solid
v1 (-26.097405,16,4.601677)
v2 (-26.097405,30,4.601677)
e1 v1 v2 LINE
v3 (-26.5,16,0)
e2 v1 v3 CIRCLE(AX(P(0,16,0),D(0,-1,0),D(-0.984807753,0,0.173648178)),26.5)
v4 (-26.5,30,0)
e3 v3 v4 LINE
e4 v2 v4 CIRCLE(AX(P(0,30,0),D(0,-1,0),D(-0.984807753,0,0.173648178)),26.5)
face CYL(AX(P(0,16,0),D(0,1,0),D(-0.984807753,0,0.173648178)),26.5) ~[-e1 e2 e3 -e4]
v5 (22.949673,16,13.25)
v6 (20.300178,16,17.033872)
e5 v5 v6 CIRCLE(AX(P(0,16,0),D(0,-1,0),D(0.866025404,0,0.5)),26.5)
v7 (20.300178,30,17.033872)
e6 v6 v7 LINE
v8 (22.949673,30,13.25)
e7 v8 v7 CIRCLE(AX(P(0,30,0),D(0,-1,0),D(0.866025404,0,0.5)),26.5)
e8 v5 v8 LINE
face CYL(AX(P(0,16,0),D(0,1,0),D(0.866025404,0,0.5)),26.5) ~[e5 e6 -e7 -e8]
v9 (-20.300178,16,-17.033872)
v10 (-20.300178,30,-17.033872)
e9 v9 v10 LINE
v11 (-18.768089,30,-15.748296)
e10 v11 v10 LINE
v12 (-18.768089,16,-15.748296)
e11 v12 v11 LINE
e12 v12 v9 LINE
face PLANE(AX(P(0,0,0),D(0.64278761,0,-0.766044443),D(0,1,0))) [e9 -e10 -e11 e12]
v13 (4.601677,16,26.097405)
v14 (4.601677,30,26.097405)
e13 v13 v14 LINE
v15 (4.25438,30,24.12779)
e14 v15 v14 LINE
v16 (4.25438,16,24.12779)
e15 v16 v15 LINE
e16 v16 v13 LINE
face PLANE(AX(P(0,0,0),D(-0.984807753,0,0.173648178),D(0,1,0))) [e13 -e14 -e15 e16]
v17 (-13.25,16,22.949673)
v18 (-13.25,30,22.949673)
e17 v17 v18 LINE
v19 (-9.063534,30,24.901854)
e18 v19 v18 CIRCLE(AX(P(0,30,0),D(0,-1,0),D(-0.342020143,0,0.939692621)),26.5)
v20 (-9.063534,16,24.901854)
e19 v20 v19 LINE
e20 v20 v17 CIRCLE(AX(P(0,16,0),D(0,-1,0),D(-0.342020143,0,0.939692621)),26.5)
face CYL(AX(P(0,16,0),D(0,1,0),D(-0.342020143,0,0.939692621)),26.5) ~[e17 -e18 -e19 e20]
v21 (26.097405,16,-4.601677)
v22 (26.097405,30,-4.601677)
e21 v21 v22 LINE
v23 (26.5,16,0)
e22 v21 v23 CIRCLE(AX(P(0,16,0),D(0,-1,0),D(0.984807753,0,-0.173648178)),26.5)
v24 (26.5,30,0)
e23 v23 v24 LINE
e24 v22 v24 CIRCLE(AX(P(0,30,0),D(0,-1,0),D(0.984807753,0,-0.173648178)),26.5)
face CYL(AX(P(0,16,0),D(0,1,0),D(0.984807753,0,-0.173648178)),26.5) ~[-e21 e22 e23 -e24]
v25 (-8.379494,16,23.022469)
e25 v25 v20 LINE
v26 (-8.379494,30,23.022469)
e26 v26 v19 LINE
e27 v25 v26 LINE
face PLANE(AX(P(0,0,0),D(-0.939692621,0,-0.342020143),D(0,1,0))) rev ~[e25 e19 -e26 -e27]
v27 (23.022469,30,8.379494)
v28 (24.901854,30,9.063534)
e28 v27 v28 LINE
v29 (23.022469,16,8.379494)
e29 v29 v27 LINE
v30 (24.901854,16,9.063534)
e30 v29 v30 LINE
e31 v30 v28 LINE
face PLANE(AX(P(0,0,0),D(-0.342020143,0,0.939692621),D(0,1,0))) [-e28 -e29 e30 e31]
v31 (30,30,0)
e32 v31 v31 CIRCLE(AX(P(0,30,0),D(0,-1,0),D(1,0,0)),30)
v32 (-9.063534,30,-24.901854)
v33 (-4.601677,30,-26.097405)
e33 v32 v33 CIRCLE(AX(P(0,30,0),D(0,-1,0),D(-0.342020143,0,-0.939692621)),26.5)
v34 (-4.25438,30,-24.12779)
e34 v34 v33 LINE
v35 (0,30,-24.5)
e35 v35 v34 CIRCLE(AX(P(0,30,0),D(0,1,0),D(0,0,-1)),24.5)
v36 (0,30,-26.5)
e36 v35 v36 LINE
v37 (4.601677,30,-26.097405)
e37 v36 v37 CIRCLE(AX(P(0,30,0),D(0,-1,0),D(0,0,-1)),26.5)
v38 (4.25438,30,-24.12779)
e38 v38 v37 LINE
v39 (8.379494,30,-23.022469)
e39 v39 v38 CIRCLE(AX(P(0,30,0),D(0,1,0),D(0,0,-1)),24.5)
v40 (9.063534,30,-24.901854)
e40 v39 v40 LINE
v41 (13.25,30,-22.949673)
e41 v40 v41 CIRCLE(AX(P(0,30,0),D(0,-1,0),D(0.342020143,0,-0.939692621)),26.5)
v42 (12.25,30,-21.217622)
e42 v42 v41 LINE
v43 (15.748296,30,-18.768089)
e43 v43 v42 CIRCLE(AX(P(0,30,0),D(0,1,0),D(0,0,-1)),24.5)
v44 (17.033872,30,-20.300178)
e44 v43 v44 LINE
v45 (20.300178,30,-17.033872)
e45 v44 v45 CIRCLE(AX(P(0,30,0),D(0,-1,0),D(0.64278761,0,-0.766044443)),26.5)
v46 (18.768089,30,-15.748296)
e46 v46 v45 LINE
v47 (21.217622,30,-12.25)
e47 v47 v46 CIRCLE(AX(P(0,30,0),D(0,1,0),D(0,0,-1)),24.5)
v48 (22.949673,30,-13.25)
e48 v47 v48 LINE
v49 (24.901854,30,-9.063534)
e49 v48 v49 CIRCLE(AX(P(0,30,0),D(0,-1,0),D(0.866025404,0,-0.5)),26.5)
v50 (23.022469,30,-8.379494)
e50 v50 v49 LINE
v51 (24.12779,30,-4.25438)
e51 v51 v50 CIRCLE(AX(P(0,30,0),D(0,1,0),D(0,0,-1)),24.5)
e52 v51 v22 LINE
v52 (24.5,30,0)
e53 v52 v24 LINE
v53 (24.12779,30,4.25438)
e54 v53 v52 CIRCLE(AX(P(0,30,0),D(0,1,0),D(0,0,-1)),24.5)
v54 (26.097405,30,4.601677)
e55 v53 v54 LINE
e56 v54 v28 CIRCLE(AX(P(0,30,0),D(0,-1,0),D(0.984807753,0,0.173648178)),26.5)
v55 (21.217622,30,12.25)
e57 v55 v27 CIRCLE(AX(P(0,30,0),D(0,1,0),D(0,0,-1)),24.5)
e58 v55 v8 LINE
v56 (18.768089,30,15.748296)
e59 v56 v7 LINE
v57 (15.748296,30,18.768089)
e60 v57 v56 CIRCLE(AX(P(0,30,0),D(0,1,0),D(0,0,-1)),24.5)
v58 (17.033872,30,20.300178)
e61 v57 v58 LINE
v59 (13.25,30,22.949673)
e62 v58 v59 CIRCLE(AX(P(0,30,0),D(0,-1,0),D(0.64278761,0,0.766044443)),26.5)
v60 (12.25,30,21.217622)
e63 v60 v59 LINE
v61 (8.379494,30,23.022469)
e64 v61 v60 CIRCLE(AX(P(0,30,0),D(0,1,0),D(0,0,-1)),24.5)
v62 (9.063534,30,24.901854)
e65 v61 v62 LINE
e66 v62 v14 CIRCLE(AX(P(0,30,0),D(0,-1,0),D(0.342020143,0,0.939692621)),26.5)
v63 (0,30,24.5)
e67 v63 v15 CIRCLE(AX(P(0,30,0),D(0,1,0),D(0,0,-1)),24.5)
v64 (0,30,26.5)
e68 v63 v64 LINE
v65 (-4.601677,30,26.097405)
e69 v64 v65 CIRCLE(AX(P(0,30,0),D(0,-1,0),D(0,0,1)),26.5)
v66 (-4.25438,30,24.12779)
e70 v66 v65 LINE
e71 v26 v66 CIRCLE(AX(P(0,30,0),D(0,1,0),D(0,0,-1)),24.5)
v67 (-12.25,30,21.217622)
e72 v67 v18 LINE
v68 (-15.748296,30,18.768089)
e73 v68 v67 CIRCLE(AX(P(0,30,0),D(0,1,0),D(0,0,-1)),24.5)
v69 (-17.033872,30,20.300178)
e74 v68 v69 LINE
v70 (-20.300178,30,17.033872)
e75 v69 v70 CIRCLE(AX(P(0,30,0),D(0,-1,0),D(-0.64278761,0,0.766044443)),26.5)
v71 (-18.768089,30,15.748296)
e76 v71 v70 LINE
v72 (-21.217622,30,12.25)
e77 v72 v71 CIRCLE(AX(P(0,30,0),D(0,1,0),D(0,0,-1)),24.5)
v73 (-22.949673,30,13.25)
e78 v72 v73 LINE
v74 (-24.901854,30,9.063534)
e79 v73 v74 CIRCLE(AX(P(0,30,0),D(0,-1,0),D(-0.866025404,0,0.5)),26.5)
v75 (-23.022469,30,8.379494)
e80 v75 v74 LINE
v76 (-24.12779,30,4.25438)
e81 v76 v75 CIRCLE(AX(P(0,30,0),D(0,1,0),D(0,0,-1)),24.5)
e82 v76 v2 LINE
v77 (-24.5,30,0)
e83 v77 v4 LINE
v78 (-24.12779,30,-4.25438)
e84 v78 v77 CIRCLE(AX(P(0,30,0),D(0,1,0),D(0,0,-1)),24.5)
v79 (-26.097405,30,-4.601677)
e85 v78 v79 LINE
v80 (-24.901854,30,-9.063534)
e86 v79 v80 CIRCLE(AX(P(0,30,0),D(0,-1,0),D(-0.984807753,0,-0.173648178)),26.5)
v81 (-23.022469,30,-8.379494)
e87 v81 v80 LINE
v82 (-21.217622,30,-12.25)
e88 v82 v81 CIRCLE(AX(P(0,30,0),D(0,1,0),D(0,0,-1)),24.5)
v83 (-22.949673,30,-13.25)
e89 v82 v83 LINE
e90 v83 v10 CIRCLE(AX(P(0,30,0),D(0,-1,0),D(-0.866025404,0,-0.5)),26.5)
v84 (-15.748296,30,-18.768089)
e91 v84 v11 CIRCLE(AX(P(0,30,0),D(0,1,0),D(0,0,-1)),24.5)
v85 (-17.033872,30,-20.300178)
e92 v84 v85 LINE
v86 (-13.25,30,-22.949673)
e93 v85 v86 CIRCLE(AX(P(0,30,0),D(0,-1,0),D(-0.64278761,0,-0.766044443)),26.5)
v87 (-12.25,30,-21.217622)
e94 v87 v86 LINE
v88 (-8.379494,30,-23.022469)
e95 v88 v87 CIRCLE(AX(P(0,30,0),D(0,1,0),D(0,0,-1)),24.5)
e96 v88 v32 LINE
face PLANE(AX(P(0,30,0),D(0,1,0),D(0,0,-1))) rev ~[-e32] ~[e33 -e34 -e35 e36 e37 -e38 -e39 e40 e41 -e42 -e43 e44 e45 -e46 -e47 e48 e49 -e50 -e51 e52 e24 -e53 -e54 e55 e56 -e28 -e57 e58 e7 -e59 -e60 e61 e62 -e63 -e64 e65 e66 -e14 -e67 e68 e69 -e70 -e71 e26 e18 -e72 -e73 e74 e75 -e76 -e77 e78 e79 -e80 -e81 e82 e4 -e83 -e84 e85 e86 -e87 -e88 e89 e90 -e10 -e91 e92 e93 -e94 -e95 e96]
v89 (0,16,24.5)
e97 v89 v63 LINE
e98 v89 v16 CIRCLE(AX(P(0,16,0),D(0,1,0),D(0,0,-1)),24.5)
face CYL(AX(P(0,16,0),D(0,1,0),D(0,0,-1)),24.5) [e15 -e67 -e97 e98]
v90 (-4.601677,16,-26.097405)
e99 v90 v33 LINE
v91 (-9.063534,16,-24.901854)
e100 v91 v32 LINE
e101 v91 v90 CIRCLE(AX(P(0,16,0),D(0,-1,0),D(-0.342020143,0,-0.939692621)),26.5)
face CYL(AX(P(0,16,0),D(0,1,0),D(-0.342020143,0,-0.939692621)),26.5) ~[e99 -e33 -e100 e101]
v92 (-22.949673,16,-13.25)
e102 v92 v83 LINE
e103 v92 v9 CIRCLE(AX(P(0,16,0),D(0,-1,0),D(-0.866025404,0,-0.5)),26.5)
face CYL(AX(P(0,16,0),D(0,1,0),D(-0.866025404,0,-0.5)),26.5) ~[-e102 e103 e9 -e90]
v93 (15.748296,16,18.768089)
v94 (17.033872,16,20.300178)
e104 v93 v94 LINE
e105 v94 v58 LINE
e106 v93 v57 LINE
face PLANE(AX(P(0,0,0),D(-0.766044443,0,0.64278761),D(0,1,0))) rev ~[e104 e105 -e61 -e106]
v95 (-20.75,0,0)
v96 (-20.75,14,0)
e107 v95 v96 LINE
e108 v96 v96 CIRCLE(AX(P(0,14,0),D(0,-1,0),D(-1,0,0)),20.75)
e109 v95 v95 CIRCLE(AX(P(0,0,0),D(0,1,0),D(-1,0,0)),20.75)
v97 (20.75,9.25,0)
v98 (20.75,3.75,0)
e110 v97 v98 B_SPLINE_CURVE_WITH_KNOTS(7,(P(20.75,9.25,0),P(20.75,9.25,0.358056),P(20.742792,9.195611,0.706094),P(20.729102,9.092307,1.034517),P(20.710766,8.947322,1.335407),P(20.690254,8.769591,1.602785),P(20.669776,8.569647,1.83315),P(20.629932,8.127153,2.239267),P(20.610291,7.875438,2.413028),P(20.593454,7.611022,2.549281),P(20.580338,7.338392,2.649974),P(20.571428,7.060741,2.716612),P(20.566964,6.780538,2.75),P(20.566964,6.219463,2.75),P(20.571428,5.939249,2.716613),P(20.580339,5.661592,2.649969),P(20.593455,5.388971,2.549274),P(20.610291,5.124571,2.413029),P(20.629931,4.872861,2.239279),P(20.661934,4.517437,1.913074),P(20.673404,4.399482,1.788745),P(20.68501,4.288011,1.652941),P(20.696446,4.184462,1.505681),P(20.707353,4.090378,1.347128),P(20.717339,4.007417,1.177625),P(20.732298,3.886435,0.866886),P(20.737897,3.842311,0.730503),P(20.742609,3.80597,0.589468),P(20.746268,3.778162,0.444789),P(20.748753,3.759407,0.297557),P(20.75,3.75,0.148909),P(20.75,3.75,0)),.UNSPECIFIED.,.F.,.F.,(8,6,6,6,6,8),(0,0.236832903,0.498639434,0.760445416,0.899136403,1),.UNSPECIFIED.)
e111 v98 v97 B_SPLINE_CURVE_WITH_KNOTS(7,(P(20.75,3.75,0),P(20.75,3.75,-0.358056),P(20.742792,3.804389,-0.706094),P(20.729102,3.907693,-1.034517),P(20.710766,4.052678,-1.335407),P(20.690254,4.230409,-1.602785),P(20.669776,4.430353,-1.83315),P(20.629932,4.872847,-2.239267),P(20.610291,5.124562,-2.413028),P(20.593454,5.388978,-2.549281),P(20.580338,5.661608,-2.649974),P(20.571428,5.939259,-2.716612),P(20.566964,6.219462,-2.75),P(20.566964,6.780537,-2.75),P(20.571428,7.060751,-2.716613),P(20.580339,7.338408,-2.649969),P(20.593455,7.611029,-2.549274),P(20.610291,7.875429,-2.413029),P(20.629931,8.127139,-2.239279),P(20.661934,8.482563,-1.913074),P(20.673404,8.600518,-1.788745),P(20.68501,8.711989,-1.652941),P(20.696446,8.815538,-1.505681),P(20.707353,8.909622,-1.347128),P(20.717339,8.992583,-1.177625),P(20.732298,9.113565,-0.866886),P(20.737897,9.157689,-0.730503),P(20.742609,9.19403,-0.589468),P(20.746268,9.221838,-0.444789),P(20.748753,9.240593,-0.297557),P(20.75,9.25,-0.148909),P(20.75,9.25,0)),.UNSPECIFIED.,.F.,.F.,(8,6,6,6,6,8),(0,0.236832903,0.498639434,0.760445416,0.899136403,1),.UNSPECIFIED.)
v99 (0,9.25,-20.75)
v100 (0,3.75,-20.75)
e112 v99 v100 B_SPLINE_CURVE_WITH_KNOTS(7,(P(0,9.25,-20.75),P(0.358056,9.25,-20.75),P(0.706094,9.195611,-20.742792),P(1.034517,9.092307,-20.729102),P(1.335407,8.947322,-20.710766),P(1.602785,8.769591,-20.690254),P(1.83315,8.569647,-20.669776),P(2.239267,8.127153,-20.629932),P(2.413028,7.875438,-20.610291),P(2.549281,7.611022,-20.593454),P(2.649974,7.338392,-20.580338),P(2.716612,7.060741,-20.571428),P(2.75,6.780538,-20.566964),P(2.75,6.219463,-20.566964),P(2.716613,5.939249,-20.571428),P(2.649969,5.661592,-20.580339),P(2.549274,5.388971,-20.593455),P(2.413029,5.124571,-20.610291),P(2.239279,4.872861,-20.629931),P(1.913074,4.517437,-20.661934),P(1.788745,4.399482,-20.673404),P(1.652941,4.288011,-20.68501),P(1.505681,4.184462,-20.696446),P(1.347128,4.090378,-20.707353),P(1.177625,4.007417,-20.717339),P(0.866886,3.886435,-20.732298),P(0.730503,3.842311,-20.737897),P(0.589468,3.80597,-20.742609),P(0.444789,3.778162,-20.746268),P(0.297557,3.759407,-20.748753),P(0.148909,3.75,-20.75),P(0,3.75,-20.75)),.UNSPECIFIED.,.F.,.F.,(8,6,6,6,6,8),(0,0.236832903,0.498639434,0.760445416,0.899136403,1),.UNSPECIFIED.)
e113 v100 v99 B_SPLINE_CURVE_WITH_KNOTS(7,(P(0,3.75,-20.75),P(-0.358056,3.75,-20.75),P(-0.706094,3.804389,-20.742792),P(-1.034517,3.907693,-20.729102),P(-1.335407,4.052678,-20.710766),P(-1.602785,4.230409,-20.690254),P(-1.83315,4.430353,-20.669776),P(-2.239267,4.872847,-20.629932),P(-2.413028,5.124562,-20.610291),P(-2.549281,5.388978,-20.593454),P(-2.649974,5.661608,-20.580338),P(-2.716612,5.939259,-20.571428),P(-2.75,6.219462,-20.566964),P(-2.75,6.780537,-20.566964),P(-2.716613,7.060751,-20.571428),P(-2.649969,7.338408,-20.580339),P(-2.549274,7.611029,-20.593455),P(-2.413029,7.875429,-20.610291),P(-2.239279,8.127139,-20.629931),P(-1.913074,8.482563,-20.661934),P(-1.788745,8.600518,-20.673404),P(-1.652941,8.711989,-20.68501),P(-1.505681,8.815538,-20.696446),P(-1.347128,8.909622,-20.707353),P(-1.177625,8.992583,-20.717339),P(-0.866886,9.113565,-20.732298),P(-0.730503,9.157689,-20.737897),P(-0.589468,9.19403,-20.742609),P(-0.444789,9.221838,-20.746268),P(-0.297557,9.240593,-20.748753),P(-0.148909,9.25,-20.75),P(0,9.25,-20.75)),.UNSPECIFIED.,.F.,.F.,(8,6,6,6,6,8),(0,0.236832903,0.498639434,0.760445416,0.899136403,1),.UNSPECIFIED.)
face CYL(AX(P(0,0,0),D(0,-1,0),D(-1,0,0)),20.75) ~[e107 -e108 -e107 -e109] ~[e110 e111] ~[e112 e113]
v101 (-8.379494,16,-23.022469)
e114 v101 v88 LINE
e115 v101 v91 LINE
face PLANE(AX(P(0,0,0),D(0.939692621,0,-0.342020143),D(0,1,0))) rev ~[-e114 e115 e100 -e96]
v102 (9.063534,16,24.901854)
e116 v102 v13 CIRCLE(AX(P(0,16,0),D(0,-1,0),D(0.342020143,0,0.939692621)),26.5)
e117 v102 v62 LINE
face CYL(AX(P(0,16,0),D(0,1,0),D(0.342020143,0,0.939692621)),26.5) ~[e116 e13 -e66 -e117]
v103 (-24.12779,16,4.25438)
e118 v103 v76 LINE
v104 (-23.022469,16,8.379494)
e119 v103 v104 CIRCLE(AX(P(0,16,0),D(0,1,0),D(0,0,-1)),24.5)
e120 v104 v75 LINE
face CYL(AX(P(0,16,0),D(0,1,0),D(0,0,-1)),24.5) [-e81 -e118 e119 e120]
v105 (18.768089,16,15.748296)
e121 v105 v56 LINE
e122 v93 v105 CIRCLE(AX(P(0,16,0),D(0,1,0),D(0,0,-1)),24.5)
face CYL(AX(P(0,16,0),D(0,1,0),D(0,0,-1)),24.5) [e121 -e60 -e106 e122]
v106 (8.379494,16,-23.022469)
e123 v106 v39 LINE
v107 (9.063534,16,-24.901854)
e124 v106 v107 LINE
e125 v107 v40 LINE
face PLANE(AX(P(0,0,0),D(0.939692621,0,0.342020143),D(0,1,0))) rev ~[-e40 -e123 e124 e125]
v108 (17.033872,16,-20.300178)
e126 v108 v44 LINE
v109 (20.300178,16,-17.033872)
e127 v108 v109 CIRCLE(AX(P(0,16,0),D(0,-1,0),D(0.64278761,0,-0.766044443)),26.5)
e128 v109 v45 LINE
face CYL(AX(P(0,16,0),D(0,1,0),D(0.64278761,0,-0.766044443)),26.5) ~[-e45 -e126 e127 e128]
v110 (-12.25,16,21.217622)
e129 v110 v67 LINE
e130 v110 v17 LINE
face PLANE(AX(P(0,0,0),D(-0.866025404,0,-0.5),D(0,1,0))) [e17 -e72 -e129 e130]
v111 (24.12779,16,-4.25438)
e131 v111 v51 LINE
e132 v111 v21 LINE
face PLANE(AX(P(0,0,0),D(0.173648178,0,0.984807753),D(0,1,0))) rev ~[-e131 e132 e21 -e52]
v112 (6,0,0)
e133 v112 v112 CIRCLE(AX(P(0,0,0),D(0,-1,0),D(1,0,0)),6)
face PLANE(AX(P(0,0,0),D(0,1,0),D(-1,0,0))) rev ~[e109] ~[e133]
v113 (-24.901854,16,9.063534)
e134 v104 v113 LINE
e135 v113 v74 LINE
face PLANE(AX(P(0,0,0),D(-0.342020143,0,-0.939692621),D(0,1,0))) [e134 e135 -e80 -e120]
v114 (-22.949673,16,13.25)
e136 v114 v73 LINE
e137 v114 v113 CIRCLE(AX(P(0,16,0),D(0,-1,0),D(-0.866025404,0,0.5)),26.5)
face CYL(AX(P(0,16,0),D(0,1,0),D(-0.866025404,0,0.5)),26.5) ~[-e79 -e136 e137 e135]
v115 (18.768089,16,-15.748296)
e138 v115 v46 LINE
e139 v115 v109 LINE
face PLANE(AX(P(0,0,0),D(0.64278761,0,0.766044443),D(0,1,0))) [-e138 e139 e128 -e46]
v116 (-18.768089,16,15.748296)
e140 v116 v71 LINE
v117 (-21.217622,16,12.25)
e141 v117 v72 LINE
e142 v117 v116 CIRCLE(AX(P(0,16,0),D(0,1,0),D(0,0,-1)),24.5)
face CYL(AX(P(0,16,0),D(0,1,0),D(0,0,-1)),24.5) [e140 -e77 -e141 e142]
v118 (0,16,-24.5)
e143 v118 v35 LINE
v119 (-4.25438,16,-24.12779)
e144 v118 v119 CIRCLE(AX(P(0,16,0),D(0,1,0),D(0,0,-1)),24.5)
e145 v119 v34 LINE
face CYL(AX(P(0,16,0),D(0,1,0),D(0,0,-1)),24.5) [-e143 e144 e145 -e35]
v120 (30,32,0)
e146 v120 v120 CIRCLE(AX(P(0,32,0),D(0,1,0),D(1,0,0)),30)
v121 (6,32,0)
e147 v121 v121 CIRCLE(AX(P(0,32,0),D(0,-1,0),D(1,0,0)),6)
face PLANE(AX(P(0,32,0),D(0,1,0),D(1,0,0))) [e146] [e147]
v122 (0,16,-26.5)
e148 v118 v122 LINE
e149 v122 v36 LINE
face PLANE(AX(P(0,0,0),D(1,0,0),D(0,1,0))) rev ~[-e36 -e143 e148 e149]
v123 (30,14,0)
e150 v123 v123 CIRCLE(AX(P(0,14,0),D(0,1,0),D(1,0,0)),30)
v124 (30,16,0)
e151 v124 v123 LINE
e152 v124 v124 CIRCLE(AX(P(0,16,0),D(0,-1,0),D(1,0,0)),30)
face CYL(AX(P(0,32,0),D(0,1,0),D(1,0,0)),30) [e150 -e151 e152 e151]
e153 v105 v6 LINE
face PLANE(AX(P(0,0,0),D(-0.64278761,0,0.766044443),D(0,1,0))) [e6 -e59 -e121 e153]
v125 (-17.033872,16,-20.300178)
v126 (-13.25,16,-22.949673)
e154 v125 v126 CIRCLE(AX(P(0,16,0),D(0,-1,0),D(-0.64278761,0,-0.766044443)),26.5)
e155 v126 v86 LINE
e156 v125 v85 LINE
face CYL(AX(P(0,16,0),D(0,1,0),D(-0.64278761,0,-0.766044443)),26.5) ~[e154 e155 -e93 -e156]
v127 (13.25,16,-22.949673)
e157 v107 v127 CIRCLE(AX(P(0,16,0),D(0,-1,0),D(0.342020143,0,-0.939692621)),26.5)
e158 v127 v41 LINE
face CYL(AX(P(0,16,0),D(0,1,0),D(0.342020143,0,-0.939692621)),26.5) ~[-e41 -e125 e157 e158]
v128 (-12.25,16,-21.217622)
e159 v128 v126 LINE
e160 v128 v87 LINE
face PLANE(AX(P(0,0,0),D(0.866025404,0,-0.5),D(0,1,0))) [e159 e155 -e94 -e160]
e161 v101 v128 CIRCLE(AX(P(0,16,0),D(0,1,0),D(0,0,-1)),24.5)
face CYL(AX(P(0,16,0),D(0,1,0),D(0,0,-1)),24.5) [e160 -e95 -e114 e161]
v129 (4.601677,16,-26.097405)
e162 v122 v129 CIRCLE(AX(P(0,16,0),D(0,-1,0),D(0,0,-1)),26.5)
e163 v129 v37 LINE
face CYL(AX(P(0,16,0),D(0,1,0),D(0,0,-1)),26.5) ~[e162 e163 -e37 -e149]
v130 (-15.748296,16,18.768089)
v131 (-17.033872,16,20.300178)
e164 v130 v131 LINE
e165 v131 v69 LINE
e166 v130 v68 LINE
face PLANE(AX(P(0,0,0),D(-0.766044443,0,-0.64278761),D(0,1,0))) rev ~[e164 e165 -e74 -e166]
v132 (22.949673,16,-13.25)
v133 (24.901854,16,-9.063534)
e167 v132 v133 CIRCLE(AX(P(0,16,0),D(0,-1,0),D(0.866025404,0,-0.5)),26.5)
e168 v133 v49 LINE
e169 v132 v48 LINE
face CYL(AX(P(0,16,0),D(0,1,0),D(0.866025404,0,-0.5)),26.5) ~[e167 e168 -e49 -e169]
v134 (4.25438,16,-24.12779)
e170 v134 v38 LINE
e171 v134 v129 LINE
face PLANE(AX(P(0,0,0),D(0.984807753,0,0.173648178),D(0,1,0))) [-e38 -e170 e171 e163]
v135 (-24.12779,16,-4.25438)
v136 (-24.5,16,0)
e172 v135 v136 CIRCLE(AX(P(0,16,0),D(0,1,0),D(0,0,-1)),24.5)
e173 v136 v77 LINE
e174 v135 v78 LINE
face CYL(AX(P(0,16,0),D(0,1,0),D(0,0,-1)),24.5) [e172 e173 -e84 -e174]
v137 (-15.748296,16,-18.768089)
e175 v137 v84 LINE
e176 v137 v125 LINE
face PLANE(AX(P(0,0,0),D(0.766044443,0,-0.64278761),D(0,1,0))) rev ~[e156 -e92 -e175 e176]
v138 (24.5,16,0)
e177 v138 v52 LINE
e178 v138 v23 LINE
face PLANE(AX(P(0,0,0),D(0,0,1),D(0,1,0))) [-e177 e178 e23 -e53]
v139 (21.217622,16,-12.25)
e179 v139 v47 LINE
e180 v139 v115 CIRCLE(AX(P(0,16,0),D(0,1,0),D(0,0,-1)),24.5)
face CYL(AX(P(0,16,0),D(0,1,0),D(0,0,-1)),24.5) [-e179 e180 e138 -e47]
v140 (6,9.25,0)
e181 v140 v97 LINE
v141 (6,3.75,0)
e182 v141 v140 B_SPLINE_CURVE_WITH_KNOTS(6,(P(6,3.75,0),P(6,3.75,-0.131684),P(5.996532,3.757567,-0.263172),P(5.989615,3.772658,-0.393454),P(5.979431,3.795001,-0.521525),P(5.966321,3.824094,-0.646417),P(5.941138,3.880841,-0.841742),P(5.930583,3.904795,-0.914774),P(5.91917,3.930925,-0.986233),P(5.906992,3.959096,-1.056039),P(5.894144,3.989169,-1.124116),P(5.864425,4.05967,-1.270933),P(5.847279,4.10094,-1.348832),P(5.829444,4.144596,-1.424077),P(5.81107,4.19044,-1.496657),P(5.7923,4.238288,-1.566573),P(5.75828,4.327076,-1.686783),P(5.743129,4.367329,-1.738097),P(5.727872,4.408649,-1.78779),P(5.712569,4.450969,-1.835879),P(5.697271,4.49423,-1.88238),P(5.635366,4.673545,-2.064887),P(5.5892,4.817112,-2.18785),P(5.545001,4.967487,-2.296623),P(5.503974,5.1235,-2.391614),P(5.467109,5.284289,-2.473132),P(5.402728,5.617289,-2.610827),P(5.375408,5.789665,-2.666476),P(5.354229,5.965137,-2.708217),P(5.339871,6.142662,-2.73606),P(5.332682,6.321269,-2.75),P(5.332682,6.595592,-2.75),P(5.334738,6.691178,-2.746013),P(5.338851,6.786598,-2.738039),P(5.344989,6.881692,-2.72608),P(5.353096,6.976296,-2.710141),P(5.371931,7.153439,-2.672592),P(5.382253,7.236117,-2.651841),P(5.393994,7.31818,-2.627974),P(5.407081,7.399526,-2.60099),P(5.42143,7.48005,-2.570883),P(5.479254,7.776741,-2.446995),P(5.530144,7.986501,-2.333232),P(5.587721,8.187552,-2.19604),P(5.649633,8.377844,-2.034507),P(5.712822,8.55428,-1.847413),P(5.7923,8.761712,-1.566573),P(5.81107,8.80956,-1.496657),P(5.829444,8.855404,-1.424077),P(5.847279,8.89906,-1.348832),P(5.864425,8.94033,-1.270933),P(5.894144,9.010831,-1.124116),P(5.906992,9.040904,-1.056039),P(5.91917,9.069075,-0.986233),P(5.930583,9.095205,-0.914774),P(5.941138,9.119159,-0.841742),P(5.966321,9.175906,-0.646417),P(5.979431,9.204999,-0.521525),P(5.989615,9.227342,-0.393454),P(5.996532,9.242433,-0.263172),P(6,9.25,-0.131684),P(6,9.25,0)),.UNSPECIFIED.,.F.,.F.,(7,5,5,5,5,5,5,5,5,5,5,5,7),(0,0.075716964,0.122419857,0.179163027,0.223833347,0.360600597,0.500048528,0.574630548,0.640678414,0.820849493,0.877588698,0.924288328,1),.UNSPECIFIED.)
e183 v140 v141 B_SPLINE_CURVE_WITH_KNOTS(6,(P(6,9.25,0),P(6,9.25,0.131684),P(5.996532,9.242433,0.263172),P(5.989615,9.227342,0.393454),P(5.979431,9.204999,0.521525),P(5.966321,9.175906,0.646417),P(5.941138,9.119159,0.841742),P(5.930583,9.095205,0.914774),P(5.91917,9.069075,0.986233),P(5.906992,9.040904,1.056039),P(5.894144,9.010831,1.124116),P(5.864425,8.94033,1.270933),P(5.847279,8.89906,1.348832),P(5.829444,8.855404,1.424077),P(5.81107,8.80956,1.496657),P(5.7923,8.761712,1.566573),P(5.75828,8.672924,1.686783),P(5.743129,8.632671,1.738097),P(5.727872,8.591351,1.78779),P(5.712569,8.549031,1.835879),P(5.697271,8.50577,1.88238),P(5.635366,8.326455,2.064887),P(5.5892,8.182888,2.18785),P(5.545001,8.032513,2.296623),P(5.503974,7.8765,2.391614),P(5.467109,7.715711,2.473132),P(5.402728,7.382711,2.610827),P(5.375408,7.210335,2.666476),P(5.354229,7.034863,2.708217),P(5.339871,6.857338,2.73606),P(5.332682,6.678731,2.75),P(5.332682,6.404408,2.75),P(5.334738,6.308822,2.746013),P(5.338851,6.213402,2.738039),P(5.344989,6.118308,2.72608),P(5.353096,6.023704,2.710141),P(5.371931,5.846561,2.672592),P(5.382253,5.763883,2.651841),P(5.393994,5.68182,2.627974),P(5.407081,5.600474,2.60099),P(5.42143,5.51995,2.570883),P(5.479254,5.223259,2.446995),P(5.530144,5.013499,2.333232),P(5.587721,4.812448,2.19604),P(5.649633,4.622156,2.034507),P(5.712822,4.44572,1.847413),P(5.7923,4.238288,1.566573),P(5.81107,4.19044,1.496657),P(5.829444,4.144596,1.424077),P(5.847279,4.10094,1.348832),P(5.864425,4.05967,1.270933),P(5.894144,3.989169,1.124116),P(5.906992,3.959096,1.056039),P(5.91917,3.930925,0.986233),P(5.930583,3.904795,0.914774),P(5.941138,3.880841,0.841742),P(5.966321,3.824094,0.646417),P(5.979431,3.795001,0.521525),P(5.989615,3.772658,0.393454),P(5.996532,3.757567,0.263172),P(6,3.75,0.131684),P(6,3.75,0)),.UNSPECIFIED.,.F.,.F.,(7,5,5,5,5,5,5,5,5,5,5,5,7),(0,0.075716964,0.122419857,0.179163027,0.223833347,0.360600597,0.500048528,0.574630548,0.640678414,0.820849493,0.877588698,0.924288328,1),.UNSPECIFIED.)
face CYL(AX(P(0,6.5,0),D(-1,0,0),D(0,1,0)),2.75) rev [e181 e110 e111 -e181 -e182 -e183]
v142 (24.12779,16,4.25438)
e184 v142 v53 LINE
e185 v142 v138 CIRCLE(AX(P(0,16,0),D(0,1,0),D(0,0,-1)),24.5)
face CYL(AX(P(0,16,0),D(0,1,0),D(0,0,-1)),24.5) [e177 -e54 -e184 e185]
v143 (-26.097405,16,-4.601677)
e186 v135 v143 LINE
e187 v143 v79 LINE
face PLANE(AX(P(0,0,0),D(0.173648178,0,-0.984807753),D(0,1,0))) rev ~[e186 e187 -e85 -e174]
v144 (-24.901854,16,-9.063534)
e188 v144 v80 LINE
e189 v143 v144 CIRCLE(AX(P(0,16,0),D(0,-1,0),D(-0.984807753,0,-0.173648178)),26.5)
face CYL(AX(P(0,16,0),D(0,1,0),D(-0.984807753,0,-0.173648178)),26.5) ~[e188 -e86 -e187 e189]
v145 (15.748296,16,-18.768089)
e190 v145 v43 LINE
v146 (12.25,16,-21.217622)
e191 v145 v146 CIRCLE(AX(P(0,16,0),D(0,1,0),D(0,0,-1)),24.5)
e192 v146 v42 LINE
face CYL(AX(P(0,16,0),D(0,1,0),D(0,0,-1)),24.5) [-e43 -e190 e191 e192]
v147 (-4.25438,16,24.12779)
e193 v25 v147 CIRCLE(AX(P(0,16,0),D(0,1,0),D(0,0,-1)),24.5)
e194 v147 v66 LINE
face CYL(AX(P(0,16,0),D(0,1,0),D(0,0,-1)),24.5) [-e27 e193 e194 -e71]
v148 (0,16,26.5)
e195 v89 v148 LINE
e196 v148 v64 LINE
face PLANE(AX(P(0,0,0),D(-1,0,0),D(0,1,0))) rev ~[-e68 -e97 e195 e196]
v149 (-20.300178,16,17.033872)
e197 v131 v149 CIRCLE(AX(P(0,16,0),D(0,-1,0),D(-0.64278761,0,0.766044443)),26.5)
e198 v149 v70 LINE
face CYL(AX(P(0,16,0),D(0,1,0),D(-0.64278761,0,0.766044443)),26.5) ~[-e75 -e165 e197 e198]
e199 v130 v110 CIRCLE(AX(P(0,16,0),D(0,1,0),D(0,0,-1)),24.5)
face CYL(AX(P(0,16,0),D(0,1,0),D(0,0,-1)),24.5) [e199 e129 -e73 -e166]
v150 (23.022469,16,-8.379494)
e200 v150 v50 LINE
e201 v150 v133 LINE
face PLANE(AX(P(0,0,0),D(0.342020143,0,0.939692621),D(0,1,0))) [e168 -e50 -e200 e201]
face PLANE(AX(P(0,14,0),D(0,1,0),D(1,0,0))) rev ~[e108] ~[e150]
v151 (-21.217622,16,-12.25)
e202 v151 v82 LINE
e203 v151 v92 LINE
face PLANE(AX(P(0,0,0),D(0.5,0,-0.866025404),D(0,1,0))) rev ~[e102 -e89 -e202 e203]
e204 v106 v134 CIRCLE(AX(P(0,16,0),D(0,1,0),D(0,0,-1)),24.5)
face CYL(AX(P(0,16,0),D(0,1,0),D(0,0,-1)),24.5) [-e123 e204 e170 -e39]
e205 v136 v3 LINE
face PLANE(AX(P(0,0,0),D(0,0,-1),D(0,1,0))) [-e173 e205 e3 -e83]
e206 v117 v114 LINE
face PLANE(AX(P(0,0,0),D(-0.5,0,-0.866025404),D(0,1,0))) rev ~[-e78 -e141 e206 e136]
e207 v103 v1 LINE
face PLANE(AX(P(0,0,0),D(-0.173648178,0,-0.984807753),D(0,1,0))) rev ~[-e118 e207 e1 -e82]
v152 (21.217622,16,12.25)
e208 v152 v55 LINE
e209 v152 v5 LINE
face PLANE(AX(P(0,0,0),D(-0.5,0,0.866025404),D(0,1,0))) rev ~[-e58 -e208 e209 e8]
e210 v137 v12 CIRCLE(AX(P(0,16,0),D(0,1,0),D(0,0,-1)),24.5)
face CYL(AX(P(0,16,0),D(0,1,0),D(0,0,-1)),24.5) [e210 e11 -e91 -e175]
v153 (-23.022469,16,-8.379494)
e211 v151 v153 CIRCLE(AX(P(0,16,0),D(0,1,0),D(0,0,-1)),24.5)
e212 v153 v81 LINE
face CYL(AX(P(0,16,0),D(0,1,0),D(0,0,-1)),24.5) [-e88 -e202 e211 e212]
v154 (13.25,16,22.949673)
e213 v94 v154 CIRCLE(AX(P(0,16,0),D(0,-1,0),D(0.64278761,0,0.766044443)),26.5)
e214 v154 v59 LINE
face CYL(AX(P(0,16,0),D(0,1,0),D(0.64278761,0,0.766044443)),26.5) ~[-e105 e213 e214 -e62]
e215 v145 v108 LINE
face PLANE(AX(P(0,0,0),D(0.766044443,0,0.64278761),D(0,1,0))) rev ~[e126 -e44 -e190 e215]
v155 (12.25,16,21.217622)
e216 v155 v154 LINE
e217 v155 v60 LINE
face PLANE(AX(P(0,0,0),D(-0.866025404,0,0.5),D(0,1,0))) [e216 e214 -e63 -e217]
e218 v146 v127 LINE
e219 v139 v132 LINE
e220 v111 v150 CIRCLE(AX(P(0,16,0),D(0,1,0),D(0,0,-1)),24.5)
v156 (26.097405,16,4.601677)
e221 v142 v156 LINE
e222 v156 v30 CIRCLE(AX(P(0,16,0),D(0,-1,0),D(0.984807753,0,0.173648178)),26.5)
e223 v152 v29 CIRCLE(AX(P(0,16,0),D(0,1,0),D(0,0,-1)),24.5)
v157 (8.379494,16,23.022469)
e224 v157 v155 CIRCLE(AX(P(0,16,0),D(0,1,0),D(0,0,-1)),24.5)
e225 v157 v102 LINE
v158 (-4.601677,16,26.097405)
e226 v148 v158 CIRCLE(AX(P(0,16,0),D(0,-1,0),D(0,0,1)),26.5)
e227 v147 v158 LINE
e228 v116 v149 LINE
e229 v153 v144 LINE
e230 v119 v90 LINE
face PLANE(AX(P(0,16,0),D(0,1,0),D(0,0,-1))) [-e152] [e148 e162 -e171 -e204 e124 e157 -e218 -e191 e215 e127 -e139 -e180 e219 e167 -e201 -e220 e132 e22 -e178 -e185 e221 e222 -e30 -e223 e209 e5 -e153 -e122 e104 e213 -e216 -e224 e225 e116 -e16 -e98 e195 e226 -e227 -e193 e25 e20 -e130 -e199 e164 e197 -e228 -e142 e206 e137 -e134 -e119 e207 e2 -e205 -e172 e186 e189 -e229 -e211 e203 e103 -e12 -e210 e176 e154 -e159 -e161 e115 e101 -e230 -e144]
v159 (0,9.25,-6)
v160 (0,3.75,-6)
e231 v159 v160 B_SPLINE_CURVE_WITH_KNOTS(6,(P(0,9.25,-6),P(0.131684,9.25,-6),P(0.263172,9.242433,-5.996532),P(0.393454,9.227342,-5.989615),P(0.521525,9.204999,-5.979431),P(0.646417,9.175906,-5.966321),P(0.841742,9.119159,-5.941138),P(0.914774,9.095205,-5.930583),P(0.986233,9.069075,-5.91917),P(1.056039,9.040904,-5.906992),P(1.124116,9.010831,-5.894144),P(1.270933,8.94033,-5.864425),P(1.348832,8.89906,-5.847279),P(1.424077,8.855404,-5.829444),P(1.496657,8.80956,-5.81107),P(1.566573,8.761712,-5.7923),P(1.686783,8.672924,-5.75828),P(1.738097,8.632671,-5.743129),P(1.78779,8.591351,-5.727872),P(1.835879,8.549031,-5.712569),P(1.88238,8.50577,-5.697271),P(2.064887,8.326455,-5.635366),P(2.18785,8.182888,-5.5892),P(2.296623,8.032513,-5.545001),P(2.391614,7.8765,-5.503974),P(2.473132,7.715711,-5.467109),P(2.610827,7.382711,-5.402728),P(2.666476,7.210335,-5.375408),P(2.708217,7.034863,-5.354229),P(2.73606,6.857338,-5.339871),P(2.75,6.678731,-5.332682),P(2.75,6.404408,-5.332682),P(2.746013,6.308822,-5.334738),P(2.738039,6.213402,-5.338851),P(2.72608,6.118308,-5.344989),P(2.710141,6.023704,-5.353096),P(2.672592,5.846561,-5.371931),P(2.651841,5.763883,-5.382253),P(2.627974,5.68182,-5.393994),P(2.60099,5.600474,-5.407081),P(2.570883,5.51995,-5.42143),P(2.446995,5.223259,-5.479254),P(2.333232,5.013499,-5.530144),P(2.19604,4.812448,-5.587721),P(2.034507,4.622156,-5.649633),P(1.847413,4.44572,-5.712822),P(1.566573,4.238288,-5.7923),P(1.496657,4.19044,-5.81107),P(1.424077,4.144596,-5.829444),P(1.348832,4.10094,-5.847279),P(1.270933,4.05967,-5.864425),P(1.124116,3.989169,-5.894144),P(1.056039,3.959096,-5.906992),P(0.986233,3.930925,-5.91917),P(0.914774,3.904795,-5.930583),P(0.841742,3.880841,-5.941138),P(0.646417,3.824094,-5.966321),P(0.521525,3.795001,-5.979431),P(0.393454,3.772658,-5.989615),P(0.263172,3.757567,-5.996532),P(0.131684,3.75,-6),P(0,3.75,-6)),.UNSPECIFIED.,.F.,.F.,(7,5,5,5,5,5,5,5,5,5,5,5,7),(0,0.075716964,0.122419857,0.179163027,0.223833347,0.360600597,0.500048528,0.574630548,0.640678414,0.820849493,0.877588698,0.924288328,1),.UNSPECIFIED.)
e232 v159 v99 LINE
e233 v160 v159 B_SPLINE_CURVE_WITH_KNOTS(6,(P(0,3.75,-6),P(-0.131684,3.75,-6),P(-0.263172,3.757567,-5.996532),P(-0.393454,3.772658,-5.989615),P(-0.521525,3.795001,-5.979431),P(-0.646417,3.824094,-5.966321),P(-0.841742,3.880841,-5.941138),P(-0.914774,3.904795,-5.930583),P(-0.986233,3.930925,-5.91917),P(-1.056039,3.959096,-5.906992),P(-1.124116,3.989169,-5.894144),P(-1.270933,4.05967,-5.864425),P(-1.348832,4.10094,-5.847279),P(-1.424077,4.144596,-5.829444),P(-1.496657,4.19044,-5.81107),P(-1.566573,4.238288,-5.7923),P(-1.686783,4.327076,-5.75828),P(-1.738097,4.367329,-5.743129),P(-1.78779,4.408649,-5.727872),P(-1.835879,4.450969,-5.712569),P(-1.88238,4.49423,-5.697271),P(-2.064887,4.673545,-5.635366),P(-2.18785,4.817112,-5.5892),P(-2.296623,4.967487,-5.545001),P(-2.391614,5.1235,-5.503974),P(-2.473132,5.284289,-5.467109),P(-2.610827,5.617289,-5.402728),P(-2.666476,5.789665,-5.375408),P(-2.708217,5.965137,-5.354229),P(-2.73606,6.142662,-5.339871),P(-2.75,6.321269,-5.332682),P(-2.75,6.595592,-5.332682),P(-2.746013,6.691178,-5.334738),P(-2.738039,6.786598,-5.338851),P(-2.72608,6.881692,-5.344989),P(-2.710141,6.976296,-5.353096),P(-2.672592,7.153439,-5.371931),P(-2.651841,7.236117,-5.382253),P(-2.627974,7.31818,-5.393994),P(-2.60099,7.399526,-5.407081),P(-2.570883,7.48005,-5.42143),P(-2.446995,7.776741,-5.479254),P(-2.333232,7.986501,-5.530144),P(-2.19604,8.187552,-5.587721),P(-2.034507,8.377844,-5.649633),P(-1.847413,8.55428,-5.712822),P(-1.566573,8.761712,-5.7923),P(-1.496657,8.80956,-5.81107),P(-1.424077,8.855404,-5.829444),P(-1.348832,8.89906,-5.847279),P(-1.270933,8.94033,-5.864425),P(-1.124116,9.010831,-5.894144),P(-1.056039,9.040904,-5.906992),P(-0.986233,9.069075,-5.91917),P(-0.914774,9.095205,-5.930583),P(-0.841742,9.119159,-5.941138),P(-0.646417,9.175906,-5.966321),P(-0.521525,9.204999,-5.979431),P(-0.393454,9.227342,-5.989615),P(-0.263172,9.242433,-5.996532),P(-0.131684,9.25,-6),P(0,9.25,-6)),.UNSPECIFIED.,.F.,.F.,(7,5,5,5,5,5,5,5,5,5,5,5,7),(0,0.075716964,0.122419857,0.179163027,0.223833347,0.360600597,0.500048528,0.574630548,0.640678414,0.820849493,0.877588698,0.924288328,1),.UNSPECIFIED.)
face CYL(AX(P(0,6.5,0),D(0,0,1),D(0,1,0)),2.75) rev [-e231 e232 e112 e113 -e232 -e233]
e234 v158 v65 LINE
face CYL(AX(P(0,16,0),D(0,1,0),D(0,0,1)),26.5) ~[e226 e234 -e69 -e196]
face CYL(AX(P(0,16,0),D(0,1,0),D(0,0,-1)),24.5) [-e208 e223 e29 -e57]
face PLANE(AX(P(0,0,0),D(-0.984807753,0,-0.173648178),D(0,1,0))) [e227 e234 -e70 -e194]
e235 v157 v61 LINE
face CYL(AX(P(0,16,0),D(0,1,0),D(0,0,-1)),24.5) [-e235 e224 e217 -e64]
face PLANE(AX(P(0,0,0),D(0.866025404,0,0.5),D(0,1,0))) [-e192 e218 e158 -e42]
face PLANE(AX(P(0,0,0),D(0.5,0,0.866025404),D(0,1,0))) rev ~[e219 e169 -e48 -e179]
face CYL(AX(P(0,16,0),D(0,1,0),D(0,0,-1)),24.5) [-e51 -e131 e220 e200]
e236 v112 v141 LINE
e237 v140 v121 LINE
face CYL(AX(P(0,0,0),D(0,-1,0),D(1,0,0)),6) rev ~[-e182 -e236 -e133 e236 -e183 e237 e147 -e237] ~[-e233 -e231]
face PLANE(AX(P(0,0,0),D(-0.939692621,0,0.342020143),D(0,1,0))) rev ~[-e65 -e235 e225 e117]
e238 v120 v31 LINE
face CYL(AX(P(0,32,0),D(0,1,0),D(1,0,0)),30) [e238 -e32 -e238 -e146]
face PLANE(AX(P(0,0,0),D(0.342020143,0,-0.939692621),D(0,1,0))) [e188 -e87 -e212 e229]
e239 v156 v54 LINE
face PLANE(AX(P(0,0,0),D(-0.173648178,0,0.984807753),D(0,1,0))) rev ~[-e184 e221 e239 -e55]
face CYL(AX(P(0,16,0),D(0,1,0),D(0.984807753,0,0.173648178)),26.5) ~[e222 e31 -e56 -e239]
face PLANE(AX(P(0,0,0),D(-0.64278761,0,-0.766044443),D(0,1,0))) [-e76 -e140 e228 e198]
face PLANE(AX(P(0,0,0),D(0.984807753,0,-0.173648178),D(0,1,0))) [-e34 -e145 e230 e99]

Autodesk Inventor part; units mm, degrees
ref_plane "YZ Plane" through (0, 0, 0) normal (1, 0, 0) x (0, 1, 0)
ref_plane "XZ Plane" through (0, 0, 0) normal (0, 1, 0) x (-1, 0, 0)
ref_plane "XY Plane" through (0, 0, 0) normal (0, 0, 1) x (1, 0, 0)
sketch "Sketch1" plane through (0, 0, 0) normal (0, 1, 0) x (-1, 0, 0)
  circle A0 centre (0, 0) radius 20.75
  dimension "d0" = 41.5
extrude "Extrusion1" add sketch "Sketch1" along normal blind 32
sketch "Sketch2" plane through (0, 32, 0) normal (0, 1, 0) x (1, 0, 0)
  circle A0 centre (0, 0) radius 30
  dimension "d3" = 60
extrude "Extrusion2" add sketch "Sketch2" against normal blind 18
sketch "Sketch3" plane through (0, 0, 0) normal (1, 0, 0) x (0, 1, 0)
  line L0 (32, 30) -> (32, -30) projected
  line L1 (32, -30) -> (30, -30)
  line L2 (32, -30) -> (14, -30) projected
  line L3 (30, -30) -> (30, -24.5)
  line L4 (14, 30) -> (14, -30) projected
  line L5 (14, -30) -> (16, -30)
  line L6 (16, -30) -> (16, -24.5)
  line L7 (16, -24.5) -> (30, -24.5)
  line L8 (16, -30) -> (30, -30)
  line L9 (0, 0) -> (32, 0)
  dimension "d6" = 2
  dimension "d7" = 5.5
  dimension "d8" = 2
revolve "Revolution1" cut sketch "Sketch3" angle 360 about axis through (0, 0, 0) along (0, 1, 0) contours L2 L6 L7 L3
sketch "Sketch4" plane through (0, 0, 0) normal (1, 0, 0) x (0, 1, 0)
  line L0 (16, -24.5) -> (30, -24.5) projected
  line L1 (16, -24.5) -> (30, -24.5)
  line L2 (16, -24.5) -> (16, -26.5)
  line L3 (16, 30) -> (16, -30) projected
  line L4 (16, -26.5) -> (30, -26.5)
  line L5 (30, -24.5) -> (30, -26.5)
  line L6 (30, -30) -> (30, 30) projected
  line L7 (32, 30) -> (32, -30) projected
  line L8 (0, 0) -> (32, 0)
  dimension "d10" = 2
  dimension "d11" = 2
revolve "Revolution2" add sketch "Sketch4" angle 10 about axis through (0, 0, 0) along (0, -1, 0) contours L0 L5 L4 L2
pattern_circular "Circular Pattern1" count 18 over 360 about axis through (0, 23, 0) along (0, -1, 0) of "Revolution2"
sketch "Sketch5" plane through (0, 0, 0) normal (0, -1, 0) x (1, 0, 0)
  circle A0 centre (0, 0) radius 6
  dimension "d16" = 12
extrude "Extrusion3" cut sketch "Sketch5" against normal up to next
sketch "Sketch6" plane through (0, 0, 0) normal (1, 0, 0) x (0, 1, 0)
  line L0 (0, 0) -> (6.5, 0)
  circle A0 centre (6.5, 0) radius 2.75
  dimension "d19" = 6.5
  dimension "d20" = 5.5
extrude "Extrusion4" cut sketch "Sketch6" along normal up to surface
pattern_circular "Circular Pattern2" count 2 over 90 about axis through (0, 0, 0) along (0, 1, 0) of "Extrusion4"
properties part number "LargeBelt_Pulley"
